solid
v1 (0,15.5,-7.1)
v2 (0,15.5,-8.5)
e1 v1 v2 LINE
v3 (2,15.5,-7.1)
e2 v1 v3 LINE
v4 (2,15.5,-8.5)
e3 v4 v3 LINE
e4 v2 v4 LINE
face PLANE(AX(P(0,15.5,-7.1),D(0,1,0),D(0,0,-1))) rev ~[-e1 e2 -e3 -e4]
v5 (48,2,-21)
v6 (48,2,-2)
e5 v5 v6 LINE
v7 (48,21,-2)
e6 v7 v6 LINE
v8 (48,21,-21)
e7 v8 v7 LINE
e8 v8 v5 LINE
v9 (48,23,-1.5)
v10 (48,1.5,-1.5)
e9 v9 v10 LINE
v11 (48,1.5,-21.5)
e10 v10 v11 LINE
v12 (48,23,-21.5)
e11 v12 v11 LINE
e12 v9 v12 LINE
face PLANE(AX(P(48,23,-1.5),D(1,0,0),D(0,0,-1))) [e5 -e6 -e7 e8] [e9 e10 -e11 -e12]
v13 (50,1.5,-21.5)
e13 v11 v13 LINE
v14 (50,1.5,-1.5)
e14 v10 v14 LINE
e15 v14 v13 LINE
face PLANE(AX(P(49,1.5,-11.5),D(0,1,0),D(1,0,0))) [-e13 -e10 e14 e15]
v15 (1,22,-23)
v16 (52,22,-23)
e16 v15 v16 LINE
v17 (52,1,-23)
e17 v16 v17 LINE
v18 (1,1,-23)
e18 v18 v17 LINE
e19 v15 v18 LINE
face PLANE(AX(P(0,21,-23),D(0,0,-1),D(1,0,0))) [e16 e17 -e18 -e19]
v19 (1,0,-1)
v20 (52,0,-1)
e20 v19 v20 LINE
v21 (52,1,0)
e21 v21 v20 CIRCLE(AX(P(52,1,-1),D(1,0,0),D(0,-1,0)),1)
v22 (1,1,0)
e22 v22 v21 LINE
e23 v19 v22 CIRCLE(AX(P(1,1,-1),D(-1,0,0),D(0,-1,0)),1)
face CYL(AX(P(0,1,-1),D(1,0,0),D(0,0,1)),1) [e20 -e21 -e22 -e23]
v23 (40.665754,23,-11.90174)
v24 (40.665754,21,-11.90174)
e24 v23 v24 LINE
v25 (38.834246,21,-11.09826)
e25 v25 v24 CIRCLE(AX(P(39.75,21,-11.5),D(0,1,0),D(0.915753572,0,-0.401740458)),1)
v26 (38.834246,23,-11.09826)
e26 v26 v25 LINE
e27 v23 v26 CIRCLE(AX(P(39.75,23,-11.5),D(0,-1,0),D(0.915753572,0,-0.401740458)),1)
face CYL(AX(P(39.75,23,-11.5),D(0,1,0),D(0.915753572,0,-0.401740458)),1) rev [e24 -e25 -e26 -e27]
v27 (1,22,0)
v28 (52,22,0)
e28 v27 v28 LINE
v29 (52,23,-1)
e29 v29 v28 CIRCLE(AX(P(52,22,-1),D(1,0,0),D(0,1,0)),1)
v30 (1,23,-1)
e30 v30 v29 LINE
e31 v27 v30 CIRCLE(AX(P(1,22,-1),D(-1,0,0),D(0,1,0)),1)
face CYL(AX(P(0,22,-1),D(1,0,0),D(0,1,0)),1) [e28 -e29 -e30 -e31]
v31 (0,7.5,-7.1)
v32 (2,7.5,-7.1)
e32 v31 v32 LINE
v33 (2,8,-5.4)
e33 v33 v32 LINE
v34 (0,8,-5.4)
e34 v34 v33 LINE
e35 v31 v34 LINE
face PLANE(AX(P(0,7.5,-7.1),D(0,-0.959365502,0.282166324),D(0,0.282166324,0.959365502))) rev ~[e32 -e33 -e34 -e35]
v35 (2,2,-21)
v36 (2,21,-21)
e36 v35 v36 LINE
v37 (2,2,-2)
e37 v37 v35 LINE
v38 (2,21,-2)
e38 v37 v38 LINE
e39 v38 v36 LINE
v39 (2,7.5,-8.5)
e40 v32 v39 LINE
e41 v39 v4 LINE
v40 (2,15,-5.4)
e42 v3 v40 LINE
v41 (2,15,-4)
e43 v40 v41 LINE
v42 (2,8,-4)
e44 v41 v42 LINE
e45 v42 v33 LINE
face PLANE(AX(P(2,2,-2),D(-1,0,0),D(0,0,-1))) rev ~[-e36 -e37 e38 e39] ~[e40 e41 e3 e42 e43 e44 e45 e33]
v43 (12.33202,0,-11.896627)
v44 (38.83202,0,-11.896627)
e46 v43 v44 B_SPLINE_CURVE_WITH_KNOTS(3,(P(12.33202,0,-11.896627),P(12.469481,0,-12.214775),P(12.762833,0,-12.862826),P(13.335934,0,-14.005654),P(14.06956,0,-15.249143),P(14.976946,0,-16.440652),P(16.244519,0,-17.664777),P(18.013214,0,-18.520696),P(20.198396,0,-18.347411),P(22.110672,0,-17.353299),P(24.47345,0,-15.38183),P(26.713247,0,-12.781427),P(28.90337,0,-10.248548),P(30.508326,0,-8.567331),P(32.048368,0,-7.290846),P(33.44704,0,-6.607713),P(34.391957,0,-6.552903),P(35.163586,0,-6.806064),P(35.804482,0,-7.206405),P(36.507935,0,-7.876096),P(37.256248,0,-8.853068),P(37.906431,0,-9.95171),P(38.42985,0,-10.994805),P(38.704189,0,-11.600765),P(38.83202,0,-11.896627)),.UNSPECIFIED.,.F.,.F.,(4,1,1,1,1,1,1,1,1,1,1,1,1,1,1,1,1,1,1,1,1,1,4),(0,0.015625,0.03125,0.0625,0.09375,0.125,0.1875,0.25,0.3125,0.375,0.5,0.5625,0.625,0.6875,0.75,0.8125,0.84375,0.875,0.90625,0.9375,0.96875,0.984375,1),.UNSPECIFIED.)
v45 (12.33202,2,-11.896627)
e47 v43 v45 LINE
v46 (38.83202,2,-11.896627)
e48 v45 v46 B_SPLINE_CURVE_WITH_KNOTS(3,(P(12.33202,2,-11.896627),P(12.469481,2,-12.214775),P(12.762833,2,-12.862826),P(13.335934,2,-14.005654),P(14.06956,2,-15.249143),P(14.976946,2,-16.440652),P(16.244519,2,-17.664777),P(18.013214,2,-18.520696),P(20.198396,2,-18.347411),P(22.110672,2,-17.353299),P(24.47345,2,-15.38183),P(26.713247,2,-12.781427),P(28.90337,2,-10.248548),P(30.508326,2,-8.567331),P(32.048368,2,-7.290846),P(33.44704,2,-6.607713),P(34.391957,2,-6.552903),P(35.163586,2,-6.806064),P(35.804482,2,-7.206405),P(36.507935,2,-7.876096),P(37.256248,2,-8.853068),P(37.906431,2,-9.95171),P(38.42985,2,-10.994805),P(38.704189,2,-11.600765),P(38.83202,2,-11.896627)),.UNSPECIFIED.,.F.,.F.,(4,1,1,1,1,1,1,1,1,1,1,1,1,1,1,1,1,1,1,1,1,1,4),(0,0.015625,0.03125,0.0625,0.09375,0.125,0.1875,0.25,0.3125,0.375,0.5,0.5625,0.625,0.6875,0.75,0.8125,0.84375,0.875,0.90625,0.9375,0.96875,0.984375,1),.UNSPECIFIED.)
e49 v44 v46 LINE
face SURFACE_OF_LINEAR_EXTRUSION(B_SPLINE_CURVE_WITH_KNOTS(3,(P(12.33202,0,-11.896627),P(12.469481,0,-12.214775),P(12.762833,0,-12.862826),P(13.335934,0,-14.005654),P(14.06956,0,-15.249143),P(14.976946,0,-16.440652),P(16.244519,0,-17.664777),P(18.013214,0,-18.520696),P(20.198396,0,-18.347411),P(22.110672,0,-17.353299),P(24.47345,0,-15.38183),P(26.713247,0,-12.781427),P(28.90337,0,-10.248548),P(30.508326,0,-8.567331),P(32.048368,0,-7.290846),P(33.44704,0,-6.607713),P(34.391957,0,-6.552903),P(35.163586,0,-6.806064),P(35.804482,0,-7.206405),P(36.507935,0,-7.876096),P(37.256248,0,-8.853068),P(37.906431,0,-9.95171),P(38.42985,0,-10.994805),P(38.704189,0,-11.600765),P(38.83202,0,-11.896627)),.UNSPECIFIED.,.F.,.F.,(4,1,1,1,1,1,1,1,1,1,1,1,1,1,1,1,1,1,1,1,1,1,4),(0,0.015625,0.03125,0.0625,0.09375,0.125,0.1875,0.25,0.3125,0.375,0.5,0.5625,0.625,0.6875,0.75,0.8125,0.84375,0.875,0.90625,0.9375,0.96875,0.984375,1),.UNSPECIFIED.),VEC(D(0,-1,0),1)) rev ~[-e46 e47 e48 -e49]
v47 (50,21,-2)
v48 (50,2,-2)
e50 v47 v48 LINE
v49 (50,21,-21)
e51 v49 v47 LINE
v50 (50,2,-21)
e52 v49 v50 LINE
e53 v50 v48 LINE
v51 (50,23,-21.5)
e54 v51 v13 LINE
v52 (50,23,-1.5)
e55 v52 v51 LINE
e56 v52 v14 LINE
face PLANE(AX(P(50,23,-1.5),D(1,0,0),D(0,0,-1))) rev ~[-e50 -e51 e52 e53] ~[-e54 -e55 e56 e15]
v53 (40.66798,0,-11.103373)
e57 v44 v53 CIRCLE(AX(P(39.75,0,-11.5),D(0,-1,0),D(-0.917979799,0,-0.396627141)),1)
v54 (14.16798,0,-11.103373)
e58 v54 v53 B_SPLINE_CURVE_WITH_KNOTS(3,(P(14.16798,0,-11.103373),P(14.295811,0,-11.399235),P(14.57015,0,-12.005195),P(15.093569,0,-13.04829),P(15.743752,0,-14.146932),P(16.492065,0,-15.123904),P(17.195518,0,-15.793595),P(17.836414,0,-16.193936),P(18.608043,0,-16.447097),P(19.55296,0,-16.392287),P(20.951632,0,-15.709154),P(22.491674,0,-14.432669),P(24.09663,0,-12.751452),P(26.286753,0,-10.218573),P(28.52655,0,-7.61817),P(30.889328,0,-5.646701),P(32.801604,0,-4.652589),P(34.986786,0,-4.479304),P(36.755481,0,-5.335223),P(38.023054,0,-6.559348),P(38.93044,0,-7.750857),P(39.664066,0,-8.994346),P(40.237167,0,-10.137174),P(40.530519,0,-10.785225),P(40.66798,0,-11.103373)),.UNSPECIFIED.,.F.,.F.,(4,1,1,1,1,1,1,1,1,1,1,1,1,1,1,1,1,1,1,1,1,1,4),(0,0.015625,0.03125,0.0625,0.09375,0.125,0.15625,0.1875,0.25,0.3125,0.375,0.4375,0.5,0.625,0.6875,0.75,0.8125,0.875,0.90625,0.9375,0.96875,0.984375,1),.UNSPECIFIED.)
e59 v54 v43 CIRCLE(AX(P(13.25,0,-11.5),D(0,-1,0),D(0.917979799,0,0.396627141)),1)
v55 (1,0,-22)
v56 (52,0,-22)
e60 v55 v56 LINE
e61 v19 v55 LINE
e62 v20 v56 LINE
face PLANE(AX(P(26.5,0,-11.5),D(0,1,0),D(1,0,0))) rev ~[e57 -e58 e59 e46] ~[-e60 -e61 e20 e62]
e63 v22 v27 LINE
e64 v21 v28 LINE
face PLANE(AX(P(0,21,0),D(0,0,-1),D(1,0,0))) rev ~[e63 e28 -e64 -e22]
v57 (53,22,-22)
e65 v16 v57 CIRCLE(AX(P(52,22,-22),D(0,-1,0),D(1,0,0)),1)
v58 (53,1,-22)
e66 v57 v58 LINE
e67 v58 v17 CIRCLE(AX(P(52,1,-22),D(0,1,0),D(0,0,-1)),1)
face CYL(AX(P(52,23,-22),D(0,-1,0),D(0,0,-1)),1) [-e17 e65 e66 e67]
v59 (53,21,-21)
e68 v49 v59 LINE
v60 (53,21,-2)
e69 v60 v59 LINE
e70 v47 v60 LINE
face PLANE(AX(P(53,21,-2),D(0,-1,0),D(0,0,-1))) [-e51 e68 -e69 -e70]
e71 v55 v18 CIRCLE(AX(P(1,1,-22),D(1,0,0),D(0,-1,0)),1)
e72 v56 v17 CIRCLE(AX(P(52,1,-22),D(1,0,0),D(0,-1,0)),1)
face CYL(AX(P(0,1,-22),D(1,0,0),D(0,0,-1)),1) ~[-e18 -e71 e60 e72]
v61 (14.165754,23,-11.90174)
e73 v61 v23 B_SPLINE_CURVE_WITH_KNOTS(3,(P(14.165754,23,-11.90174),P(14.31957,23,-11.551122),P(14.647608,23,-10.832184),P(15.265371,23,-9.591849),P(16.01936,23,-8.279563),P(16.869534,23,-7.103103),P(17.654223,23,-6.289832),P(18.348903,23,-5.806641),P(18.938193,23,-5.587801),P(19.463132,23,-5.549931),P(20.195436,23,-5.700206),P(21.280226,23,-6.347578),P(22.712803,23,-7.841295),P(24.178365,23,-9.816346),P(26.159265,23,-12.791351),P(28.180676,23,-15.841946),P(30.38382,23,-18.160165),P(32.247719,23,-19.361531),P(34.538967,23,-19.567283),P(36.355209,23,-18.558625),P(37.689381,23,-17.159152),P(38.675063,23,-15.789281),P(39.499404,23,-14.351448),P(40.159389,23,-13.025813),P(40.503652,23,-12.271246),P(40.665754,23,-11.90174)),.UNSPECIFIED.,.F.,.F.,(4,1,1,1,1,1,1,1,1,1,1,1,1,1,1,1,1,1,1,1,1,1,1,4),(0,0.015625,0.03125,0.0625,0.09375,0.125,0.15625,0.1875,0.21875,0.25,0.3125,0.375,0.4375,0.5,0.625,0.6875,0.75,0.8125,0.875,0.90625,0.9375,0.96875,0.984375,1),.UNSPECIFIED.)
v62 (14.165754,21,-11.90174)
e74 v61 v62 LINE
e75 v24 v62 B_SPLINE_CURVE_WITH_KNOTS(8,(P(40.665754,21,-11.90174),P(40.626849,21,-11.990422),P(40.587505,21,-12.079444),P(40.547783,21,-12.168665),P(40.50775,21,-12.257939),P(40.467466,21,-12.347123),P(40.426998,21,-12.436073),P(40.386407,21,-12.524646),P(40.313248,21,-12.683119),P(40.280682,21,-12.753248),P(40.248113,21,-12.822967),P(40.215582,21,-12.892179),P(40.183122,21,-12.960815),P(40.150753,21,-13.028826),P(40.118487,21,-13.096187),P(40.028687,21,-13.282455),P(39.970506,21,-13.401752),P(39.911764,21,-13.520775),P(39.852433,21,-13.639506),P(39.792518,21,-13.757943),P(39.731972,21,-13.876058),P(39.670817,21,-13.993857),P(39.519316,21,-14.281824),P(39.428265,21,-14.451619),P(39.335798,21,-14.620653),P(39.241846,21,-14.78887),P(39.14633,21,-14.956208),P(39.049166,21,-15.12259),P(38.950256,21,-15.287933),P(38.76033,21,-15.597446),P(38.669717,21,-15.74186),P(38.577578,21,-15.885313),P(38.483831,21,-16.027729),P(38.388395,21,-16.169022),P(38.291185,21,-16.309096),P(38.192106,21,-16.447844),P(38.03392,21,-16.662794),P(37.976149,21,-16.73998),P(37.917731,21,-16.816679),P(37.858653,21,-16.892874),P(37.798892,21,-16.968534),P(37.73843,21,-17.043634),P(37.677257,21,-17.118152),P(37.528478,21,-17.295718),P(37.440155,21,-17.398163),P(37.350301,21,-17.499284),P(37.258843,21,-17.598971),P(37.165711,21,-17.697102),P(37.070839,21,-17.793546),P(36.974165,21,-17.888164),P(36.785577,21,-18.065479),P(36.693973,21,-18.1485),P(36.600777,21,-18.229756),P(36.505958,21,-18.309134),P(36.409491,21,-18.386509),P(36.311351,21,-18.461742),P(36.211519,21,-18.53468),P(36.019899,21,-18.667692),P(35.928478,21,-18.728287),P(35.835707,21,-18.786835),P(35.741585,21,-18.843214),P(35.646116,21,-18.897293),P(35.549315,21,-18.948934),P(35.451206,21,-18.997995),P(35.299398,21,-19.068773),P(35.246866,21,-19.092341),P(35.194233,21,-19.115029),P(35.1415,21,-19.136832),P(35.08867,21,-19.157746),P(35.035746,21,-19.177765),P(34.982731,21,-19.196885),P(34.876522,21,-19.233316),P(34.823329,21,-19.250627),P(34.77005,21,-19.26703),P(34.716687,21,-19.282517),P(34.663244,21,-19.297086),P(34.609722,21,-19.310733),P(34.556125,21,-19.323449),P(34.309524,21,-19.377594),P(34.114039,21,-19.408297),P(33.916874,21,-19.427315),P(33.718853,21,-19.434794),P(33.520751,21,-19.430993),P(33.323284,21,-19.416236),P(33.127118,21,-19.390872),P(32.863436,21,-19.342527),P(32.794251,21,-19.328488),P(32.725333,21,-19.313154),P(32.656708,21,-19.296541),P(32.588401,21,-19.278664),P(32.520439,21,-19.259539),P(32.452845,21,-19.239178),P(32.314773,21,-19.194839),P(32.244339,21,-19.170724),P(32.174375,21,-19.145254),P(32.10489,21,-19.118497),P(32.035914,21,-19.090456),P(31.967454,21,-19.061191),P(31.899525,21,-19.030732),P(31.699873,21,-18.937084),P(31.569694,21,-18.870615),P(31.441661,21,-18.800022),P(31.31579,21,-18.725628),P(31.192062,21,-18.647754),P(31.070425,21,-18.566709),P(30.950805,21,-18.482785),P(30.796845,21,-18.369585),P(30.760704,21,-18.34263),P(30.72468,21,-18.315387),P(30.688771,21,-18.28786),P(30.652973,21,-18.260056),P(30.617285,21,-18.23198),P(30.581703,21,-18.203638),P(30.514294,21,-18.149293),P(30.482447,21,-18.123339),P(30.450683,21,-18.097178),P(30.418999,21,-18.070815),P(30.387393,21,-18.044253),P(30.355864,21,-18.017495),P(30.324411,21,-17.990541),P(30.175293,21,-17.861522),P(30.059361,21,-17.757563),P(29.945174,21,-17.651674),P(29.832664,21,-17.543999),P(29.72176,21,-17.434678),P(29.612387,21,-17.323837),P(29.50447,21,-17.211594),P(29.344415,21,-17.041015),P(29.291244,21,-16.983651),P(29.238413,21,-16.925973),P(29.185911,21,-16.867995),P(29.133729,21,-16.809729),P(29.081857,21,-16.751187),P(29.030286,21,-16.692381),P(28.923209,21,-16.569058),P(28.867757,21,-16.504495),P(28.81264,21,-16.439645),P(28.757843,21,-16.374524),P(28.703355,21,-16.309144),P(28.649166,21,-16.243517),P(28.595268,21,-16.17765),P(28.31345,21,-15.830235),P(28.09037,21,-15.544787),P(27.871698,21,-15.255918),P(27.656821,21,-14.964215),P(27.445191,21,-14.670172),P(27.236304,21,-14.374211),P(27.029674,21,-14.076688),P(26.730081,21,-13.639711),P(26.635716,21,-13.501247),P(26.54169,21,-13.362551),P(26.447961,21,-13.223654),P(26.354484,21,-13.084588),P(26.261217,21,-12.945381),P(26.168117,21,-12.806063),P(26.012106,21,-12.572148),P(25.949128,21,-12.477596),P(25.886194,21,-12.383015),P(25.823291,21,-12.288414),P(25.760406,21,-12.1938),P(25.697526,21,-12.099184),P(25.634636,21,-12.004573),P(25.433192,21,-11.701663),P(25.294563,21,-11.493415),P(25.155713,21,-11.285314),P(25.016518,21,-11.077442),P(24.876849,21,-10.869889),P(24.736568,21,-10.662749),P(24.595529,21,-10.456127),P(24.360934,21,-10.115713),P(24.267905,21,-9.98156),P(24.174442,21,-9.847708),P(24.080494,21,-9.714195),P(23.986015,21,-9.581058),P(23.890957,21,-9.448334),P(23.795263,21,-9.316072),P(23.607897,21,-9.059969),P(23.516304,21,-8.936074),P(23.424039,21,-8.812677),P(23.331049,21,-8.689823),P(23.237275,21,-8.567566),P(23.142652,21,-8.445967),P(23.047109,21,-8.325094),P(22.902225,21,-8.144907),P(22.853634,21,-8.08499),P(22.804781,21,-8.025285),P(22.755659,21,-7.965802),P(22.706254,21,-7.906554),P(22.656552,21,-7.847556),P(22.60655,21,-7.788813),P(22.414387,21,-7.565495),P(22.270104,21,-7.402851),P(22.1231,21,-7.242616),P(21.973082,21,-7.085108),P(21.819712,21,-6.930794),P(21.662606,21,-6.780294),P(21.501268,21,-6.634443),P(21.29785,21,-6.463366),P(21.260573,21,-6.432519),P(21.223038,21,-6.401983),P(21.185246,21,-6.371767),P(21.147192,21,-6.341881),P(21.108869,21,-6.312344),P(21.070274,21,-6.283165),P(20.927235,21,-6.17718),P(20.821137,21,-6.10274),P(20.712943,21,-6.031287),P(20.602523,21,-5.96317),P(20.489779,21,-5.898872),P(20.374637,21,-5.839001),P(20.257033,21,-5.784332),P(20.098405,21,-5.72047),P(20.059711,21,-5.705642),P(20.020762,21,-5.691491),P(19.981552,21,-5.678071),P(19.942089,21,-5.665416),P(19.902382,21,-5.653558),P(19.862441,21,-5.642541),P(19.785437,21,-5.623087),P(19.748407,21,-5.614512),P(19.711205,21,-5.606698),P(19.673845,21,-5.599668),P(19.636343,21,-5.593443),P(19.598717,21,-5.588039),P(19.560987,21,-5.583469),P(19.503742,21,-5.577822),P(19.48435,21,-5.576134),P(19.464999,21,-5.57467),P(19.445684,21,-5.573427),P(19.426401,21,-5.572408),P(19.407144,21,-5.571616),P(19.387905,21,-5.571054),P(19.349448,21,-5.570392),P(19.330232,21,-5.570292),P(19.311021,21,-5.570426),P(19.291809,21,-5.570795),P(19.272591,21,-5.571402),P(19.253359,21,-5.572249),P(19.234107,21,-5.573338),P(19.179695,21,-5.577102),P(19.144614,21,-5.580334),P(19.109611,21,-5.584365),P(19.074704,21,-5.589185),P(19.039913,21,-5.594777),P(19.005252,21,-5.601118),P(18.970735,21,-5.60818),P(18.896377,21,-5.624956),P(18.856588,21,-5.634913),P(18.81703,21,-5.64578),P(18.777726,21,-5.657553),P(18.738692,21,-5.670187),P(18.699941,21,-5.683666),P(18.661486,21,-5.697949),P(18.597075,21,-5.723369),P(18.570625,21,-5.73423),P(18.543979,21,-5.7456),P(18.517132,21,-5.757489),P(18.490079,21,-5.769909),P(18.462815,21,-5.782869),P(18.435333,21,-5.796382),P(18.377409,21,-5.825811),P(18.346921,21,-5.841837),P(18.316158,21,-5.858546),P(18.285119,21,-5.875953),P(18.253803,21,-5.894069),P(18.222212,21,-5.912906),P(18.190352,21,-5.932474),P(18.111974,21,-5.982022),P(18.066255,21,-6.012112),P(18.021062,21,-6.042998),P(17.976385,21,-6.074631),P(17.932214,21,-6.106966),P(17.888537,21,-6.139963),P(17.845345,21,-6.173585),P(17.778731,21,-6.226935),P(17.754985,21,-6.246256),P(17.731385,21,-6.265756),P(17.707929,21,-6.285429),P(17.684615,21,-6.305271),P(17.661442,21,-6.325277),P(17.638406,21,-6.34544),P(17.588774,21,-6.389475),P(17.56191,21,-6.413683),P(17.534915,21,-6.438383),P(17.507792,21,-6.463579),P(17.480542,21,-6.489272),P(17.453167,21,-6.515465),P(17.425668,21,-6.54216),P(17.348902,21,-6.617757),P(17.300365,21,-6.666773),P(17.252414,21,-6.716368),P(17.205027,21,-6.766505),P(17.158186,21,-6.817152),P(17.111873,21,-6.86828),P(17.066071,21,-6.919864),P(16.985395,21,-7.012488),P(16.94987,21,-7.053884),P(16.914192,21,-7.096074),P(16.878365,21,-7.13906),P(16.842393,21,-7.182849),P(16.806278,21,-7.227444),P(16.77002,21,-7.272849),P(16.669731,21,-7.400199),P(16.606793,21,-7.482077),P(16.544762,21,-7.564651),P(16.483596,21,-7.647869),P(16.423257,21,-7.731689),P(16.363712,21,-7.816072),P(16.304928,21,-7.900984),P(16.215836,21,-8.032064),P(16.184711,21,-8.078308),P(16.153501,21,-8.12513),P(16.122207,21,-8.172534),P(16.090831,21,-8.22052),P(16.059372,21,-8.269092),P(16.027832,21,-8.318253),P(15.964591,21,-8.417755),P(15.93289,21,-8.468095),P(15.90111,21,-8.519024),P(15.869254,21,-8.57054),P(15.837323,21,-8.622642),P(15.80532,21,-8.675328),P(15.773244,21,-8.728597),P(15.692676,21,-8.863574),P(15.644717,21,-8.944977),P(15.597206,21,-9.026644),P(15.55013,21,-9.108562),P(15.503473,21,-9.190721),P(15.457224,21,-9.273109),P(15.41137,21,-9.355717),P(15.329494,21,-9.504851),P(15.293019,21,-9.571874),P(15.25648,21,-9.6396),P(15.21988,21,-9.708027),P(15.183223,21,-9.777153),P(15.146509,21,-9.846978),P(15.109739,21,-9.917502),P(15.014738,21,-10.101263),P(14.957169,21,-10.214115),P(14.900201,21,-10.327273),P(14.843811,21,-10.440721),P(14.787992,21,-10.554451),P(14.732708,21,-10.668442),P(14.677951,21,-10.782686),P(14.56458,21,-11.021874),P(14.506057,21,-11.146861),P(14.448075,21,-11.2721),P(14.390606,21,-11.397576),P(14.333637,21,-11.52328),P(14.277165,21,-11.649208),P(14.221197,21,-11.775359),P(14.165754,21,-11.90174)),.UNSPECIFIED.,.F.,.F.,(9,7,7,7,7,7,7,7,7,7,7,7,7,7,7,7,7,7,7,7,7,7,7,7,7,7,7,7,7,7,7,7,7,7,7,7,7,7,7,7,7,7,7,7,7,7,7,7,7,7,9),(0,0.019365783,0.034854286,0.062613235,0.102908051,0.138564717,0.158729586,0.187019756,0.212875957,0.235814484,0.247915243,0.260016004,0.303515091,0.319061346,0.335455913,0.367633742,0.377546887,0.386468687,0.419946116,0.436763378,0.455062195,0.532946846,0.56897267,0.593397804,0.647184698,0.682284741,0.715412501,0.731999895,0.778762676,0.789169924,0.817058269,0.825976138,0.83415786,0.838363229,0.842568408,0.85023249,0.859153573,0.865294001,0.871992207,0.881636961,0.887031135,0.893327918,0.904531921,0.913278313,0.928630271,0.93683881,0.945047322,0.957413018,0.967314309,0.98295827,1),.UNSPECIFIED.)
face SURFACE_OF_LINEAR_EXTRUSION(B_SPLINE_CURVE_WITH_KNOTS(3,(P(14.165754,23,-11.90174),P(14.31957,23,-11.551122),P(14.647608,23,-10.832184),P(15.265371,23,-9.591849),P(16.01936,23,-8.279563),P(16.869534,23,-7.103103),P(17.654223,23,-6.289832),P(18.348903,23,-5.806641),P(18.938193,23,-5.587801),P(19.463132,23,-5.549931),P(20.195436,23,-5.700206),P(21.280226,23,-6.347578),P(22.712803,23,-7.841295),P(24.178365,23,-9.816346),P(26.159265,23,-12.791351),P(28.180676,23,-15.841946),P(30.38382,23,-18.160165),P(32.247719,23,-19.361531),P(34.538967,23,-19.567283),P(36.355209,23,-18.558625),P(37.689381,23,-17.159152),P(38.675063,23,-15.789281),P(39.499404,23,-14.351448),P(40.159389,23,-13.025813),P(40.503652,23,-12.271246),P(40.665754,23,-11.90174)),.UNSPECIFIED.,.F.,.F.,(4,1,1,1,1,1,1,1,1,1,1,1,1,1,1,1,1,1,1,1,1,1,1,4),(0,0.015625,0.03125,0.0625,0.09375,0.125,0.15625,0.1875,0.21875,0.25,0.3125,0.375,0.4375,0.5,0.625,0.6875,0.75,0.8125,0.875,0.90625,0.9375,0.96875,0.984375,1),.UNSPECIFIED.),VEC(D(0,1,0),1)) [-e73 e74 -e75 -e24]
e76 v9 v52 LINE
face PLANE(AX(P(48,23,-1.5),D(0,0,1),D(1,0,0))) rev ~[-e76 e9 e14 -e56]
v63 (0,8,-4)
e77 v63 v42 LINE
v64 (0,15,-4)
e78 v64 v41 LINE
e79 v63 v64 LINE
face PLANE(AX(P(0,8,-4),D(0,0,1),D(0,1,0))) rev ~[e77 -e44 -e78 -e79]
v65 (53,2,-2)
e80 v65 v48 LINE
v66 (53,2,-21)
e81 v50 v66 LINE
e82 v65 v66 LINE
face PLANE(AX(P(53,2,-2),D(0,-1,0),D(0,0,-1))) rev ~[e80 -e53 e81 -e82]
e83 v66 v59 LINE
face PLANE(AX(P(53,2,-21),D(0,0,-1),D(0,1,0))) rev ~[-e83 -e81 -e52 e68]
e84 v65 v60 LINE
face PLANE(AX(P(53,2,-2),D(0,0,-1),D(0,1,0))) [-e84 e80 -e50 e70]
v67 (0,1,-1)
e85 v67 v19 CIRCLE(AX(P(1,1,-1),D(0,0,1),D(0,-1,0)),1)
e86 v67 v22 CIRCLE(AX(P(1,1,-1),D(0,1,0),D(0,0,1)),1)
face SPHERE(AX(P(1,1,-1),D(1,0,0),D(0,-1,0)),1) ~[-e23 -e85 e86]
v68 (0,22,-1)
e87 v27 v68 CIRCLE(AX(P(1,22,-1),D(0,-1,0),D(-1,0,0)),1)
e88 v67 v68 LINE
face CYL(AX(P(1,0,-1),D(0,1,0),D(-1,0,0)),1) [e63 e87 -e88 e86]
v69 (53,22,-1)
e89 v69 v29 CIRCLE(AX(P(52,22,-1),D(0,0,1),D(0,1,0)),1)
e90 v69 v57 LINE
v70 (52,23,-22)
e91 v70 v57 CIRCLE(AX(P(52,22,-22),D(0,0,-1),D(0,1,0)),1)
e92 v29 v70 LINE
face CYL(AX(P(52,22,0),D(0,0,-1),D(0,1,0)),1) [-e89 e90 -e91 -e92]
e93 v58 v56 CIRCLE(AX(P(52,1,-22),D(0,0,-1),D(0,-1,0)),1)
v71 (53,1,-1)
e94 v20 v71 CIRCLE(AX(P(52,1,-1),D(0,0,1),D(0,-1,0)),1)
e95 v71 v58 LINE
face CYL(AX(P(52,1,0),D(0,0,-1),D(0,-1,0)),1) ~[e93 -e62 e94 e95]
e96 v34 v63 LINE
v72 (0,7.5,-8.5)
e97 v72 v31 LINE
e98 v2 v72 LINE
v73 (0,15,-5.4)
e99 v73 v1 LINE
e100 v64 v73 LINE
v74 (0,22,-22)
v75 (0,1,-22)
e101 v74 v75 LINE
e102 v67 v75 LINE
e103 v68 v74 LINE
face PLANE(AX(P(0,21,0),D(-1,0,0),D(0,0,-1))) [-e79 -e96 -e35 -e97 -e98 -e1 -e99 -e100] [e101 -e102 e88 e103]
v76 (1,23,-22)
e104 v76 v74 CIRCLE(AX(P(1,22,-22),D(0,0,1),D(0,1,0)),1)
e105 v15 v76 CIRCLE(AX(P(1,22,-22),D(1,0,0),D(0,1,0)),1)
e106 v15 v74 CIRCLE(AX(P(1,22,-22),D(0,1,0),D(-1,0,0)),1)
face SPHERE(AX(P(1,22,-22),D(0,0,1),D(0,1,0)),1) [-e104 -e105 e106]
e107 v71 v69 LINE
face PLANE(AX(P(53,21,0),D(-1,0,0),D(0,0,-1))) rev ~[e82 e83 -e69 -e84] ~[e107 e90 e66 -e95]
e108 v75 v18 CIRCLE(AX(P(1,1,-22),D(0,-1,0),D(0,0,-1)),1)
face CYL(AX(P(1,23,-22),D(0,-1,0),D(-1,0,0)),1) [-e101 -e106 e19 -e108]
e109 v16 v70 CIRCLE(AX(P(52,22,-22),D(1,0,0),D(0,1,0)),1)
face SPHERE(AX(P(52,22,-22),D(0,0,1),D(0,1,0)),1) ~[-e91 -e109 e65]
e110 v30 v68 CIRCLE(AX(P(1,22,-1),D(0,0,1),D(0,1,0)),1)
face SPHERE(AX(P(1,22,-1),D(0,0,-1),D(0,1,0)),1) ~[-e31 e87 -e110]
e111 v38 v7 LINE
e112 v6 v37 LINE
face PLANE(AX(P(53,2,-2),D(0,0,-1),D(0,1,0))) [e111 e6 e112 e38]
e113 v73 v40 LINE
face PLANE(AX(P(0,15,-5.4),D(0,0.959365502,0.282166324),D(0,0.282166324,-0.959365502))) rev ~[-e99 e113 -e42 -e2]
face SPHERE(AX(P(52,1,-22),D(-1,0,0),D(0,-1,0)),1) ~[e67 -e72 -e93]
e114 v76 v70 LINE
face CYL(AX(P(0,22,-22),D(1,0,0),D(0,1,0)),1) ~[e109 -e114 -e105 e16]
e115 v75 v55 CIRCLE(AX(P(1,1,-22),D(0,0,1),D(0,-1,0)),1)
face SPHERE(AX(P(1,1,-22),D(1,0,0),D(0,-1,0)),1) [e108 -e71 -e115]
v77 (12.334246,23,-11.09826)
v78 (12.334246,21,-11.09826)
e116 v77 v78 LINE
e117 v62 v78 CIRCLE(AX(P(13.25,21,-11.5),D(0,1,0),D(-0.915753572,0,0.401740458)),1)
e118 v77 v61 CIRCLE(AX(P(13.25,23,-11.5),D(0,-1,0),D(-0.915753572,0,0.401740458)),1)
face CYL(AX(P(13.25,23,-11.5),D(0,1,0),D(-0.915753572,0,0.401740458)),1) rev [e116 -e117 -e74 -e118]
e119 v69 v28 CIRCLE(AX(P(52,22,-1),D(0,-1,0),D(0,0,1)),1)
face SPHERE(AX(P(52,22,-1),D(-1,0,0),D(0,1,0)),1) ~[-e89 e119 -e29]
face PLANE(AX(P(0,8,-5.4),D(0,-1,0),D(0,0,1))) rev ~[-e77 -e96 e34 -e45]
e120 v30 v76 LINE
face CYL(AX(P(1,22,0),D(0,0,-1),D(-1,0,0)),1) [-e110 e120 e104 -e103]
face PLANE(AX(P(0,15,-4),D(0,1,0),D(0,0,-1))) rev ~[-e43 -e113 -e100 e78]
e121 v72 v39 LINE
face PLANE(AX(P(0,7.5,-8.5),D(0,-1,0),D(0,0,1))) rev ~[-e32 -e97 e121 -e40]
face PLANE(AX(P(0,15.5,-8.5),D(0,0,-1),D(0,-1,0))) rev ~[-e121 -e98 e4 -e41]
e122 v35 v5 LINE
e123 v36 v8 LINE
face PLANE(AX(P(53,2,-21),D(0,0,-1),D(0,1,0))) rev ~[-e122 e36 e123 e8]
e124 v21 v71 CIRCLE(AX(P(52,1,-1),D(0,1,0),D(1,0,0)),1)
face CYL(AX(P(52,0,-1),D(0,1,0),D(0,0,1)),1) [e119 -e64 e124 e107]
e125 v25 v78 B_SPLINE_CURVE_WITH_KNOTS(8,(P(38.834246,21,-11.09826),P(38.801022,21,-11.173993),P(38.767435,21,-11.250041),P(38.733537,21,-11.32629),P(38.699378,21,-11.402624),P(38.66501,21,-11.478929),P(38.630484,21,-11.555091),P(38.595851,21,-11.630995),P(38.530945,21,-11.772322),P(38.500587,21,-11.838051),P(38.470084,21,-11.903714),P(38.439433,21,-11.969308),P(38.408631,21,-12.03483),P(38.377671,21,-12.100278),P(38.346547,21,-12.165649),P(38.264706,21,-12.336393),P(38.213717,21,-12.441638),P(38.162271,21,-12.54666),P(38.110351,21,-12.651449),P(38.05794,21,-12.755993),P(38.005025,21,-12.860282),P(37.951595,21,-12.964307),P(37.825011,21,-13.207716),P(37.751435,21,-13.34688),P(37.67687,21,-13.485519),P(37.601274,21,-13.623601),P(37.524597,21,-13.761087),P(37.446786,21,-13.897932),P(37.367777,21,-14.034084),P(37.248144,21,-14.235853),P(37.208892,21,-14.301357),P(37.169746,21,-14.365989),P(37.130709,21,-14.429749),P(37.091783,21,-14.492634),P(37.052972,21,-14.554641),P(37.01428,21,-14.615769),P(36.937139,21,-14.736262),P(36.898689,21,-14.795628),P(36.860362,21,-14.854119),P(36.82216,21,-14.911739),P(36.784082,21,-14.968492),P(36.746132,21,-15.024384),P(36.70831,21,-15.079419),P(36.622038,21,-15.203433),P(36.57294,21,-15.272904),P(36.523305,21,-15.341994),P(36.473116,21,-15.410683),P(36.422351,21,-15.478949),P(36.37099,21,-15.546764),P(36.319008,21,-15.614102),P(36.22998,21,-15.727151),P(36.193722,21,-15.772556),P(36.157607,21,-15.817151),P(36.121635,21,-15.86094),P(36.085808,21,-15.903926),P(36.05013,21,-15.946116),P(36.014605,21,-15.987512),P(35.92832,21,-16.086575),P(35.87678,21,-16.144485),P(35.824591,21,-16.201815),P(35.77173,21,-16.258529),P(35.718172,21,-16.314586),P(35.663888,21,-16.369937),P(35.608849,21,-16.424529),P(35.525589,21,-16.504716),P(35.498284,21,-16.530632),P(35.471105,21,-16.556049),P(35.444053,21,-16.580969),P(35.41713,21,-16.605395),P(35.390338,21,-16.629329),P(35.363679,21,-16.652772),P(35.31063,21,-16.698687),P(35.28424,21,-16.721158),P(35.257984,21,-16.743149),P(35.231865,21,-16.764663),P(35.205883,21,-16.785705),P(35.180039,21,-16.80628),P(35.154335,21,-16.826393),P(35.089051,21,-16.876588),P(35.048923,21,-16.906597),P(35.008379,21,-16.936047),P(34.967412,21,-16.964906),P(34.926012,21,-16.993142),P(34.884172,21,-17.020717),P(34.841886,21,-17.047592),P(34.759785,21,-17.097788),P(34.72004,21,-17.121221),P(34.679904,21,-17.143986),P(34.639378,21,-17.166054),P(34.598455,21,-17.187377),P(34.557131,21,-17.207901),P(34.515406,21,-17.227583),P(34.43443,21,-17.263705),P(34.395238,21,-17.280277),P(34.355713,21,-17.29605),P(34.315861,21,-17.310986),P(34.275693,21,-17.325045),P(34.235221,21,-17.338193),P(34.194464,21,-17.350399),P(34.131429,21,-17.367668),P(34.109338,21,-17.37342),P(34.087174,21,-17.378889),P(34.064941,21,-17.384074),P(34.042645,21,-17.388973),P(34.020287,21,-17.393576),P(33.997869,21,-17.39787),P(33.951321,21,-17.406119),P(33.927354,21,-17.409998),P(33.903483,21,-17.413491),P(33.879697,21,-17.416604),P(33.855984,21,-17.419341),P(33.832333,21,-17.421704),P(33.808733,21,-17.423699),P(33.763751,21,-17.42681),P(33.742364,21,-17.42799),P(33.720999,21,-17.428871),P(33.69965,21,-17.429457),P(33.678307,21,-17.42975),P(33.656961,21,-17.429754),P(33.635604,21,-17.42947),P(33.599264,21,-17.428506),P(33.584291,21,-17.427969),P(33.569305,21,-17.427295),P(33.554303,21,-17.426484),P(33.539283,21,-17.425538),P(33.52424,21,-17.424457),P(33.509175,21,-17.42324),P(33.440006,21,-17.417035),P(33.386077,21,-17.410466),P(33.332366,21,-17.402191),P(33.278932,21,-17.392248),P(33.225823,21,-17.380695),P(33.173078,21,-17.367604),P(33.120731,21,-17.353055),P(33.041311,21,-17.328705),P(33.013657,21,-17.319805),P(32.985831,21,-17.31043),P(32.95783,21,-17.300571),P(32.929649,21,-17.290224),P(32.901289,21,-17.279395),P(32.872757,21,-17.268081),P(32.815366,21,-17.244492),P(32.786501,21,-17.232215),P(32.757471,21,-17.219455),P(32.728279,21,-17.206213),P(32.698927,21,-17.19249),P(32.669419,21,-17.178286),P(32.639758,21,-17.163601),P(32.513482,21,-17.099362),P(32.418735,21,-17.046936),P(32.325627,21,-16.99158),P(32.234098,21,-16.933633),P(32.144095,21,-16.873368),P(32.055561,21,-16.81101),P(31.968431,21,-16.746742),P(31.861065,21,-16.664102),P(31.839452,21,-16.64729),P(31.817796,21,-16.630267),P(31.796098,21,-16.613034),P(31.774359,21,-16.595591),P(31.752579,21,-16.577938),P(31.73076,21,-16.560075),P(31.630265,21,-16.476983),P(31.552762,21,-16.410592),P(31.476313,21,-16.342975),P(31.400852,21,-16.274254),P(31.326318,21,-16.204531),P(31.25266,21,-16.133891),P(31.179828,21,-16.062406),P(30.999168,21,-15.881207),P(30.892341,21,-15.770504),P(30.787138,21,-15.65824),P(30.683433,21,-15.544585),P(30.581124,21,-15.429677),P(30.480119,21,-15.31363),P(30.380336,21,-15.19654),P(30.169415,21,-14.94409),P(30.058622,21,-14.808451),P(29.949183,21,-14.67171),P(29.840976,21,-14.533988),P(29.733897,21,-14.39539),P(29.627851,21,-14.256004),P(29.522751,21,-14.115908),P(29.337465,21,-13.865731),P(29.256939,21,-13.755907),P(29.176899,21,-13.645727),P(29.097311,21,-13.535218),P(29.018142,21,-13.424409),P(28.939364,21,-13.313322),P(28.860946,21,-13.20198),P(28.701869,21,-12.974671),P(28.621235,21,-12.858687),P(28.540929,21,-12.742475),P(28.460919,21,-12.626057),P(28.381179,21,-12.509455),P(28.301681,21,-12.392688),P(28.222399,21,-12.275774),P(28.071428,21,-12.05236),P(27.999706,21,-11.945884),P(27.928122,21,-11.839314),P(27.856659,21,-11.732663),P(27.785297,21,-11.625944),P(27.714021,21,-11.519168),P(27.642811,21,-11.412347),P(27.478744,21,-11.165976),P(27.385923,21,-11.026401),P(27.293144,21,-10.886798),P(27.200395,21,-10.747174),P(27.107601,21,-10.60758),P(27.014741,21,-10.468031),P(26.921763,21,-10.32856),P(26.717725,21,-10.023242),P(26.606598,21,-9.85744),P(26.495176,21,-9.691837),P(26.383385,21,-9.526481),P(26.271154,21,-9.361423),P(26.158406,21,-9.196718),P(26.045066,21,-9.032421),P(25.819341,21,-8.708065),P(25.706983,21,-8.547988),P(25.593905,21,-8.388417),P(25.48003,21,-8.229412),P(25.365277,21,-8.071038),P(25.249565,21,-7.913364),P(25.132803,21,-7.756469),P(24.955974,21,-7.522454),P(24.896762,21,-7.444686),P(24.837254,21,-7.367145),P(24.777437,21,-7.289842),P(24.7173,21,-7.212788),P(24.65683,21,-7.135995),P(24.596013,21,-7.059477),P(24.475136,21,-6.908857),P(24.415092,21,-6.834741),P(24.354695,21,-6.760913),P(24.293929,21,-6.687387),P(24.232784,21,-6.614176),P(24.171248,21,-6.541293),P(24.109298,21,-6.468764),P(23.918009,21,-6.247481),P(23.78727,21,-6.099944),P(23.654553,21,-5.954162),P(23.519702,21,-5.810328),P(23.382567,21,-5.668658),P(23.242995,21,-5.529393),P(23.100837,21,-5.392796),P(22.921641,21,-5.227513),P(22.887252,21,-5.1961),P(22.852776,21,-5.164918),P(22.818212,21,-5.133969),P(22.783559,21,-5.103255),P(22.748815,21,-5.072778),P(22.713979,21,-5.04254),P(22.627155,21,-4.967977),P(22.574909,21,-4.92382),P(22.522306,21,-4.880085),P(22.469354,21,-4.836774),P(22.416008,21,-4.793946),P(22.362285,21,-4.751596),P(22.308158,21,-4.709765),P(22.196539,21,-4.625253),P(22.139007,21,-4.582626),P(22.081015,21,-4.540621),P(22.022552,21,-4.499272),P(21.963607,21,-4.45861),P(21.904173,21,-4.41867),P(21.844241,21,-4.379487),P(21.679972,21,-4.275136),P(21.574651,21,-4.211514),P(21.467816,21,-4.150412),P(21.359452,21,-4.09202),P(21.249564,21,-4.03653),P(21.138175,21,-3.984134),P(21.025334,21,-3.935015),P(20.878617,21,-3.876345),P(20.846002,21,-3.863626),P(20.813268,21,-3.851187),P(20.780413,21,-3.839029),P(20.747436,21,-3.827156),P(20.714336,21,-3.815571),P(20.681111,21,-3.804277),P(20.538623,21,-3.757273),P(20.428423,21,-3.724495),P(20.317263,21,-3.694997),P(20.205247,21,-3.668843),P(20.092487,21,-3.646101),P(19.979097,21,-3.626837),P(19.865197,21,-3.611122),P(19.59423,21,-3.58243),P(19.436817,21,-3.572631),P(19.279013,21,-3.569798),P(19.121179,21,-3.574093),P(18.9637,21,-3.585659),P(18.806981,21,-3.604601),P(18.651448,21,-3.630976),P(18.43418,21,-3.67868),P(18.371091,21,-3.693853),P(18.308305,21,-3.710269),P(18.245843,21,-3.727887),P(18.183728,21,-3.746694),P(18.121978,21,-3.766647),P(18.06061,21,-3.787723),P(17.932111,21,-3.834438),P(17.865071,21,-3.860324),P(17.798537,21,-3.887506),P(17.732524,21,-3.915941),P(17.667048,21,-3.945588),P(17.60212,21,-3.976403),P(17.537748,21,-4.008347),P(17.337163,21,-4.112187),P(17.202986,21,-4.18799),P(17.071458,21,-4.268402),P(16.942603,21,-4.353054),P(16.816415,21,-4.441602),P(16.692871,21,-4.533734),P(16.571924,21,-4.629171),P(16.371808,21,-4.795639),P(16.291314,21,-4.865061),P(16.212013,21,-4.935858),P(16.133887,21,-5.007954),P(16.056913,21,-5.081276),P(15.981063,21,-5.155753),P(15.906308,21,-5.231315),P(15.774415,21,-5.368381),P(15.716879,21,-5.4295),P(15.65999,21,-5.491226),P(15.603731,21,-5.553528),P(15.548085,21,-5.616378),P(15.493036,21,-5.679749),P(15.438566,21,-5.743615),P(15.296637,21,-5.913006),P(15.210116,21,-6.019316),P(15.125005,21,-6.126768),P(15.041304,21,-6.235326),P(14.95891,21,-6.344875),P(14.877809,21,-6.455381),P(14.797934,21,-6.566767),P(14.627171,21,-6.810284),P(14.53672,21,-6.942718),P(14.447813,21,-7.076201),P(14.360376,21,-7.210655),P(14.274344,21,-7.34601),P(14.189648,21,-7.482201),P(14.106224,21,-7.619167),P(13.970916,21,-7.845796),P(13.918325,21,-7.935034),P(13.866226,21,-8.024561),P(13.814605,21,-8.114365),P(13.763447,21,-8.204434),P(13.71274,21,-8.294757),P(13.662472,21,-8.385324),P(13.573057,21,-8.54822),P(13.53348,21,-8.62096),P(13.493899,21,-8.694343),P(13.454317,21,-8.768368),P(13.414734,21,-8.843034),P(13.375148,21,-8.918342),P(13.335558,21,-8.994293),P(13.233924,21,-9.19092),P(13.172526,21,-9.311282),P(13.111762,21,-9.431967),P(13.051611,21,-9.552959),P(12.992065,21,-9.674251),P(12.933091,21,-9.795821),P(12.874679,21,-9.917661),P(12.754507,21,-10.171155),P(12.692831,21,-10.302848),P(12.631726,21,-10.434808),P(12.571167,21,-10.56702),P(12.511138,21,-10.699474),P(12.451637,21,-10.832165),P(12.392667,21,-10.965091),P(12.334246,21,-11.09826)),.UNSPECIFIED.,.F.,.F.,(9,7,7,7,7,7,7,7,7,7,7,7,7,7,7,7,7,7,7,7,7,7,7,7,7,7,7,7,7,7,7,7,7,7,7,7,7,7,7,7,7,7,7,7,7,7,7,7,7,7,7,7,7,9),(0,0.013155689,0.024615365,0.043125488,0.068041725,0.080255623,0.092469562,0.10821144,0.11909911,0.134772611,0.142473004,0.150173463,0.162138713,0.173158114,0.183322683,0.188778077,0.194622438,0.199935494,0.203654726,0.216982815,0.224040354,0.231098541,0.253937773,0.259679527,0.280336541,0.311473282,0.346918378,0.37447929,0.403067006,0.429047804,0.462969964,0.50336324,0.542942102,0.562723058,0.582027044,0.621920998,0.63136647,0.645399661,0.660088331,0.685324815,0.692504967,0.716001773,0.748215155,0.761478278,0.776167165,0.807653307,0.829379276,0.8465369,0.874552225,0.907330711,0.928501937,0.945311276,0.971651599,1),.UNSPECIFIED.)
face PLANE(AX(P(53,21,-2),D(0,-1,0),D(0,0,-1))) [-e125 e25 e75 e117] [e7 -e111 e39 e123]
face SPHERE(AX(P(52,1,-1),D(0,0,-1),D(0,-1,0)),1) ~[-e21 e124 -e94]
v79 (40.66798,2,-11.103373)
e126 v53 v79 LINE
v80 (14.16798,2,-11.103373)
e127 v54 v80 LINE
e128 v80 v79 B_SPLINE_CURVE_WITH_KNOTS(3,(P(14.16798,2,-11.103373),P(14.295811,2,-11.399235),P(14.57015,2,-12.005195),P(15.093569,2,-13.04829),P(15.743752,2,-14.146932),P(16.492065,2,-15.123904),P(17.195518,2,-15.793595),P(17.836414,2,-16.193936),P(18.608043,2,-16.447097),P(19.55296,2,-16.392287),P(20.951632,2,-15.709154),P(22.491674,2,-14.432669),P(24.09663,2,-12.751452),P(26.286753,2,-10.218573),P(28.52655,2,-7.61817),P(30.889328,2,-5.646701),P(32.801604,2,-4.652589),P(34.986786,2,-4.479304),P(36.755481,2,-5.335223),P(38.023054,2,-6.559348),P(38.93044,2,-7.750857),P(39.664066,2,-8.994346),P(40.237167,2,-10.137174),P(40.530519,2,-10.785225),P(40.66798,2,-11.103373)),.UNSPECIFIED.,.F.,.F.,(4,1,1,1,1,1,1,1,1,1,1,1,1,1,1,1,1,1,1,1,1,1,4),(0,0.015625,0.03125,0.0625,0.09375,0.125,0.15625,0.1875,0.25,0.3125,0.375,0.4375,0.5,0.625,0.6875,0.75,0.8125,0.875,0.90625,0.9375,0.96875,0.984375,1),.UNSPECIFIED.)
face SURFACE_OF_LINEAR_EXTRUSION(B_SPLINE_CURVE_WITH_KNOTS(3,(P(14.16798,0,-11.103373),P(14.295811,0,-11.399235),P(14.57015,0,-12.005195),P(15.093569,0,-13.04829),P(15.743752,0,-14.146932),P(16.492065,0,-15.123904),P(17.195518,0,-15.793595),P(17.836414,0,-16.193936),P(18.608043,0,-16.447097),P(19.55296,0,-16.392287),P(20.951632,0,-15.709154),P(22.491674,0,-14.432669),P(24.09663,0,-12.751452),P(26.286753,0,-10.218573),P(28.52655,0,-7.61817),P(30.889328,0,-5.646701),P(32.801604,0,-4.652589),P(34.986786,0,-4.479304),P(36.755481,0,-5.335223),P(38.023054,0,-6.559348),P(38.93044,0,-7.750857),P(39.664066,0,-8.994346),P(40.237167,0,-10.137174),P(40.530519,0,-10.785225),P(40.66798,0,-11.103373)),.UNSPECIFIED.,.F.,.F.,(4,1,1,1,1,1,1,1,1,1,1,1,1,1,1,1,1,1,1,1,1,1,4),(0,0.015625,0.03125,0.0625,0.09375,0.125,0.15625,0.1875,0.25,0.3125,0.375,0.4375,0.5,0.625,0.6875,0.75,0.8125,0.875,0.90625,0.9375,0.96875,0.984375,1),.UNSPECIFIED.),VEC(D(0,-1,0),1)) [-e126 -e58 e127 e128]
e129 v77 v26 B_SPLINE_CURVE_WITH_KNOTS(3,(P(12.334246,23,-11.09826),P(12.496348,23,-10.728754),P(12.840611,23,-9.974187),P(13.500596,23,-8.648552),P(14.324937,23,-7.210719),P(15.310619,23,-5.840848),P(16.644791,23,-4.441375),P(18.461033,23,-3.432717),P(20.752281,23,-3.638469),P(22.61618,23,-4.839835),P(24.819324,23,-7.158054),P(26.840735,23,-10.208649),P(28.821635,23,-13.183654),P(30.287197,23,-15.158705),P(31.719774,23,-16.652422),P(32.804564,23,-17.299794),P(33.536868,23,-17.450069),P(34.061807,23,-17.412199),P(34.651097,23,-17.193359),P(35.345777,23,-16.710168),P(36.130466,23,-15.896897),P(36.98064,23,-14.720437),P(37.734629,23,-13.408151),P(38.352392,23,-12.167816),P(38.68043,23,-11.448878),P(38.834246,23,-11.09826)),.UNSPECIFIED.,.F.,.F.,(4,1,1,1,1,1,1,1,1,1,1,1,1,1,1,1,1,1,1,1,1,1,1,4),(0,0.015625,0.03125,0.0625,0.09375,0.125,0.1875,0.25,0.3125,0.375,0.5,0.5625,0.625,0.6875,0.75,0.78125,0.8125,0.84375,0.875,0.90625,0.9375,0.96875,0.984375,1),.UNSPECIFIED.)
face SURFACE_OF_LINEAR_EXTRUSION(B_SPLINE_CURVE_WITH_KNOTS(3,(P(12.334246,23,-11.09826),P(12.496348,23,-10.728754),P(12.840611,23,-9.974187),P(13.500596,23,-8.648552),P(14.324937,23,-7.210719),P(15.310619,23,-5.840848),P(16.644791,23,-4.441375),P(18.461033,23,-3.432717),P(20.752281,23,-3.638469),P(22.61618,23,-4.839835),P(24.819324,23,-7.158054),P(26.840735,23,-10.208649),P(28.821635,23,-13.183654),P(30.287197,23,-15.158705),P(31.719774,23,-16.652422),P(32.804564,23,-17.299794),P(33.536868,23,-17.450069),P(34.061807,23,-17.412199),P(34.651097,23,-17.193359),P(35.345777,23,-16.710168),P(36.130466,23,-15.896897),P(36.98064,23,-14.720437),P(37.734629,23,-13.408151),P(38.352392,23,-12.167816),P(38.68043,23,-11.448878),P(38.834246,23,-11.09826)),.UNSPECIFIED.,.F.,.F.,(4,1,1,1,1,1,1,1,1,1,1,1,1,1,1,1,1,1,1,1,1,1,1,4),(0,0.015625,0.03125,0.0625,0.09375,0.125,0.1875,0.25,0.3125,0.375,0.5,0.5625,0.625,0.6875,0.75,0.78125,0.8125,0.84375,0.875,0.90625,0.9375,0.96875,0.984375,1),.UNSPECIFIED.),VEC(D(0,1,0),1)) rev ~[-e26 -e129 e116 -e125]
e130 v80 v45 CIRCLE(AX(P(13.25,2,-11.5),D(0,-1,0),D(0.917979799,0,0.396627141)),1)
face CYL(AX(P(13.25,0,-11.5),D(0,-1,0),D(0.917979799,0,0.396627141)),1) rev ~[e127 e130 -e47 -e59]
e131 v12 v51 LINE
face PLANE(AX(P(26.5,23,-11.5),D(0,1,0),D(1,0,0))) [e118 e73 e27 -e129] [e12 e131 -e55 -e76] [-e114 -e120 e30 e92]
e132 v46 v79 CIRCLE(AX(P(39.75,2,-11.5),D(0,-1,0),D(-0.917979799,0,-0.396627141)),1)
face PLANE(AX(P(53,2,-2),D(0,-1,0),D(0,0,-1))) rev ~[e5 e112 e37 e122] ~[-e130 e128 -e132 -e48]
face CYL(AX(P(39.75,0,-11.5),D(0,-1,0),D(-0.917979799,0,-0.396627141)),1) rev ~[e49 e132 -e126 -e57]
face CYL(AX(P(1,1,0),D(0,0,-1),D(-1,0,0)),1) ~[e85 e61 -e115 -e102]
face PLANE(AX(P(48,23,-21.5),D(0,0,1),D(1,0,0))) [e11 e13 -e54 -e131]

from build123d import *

# Parameters (mm, degrees)
SKETCH1_W           = 53
SKETCH1_H           = 23
BOSS_EXTRUDE1_DEPTH = 2
SKETCH3_W           = 53
SKETCH3_H           = 23
SKETCH3_W_2         = 49
SKETCH3_H_2         = 19
BOSS_EXTRUDE2_DEPTH = 19
SKETCH5_W           = 53
SKETCH5_H           = 23
BOSS_EXTRUDE3_DEPTH = 2
CUT_EXTRUDE1_REACH  = 25
CUT_EXTRUDE2_REACH  = 55
CUT_EXTRUDE3_REACH  = 55
SKETCH9_W           = 19
SKETCH9_H           = 19
SKETCH10_W          = 2
SKETCH10_H          = 20
CUT_EXTRUDE4_DEPTH  = 21.5
FILLET1_R           = 1


with BuildPart() as part:
    # Sketch1 → Boss-Extrude1 (new body)
    with BuildSketch(Plane(origin=(0, 0, 0), x_dir=(1, 0, 0), z_dir=(0, 1, 0))):
        with Locations((26.5, 11.5)):
            Rectangle(SKETCH1_W, SKETCH1_H)
        with BuildLine():
            ThreePointArc((14.167979799, 11.103372859), (12.853372859, 10.582020201), (12.332020201, 11.896627141))
            add(Edge.make_bspline(
                [(12.332020201, 11.896627141), (12.469480865, 12.214775093), (12.762832878, 12.862826424), (13.335933972, 14.00565416), (14.069559606, 15.249143301), (14.976946321, 16.440651864), (16.244519266, 17.664776994), (18.013213928, 18.520696074), (20.198395592, 18.347411342), (22.11067197, 17.353298864), (24.473450461, 15.381830316), (26.713246554, 12.781426707), (28.903370071, 10.24854759), (30.508326384, 8.567330823), (32.048368225, 7.290846303), (33.447040029, 6.607713215), (34.391956609, 6.552903154), (35.163585916, 6.806063587), (35.804481551, 7.206405018), (36.50793545, 7.876095679), (37.256247569, 8.85306811), (37.906431149, 9.951709918), (38.429850366, 10.994805159), (38.704188556, 11.600765219), (38.832020201, 11.896627141)],
                knots=[0, 0, 0, 0, 0.015625, 0.03125, 0.0625, 0.09375, 0.125, 0.1875, 0.25, 0.3125, 0.375, 0.5, 0.5625, 0.625, 0.6875, 0.75, 0.8125, 0.84375, 0.875, 0.90625, 0.9375, 0.96875, 0.984375, 1, 1, 1, 1], degree=3))
            ThreePointArc((38.832020201, 11.896627141), (40.146627141, 12.417979799), (40.667979799, 11.103372859))
            add(Edge.make_bspline(
                [(14.167979799, 11.103372859), (14.295811444, 11.399234781), (14.570149634, 12.005194841), (15.093568851, 13.048290082), (15.743752431, 14.14693189), (16.49206455, 15.123904321), (17.195518449, 15.793594982), (17.836414084, 16.193936413), (18.608043391, 16.447096846), (19.552959971, 16.392286785), (20.951631775, 15.709153697), (22.491673616, 14.432669177), (24.096629929, 12.75145241), (26.286753446, 10.218573293), (28.526549539, 7.618169684), (30.88932803, 5.646701136), (32.801604408, 4.652588658), (34.986786072, 4.479303926), (36.755480734, 5.335223006), (38.023053679, 6.559348136), (38.930440394, 7.750856699), (39.664066028, 8.99434584), (40.237167122, 10.137173576), (40.530519135, 10.785224907), (40.667979799, 11.103372859)],
                knots=[0, 0, 0, 0, 0.015625, 0.03125, 0.0625, 0.09375, 0.125, 0.15625, 0.1875, 0.25, 0.3125, 0.375, 0.4375, 0.5, 0.625, 0.6875, 0.75, 0.8125, 0.875, 0.90625, 0.9375, 0.96875, 0.984375, 1, 1, 1, 1], degree=3))
        make_face(mode=Mode.SUBTRACT)
    extrude(amount=BOSS_EXTRUDE1_DEPTH)

    # Sketch3 → Boss-Extrude2 (add)
    with BuildSketch(Plane(origin=(0, 2, 0), x_dir=(1, 0, 0), z_dir=(0, 1, 0))):
        with Locations((26.5, 11.5)):
            Rectangle(SKETCH3_W, SKETCH3_H)
        with Locations((26.5, 11.5)):
            Rectangle(SKETCH3_W_2, SKETCH3_H_2, mode=Mode.SUBTRACT)
    extrude(amount=BOSS_EXTRUDE2_DEPTH)

    # Sketch5 → Boss-Extrude3 (add)
    with BuildSketch(Plane(origin=(0, 21, 0), x_dir=(1, 0, 0), z_dir=(0, 1, 0))):
        with Locations((26.5, 11.5)):
            Rectangle(SKETCH5_W, SKETCH5_H)
    extrude(amount=BOSS_EXTRUDE3_DEPTH)

    # Sketch7 → Cut-Extrude1 (cut, up to next)
    with BuildSketch(Plane(origin=(0, 23, 0), x_dir=(1, 0, 0), z_dir=(0, 1, 0)), mode=Mode.PRIVATE) as cut_extrude1_sk1:
        with BuildLine():
            ThreePointArc((12.334246428, 11.098259542), (12.848259542, 12.415753572), (14.165753572, 11.901740458))
            add(Edge.make_bspline(
                [(14.165753572, 11.901740458), (14.319569541, 11.551122241), (14.647608492, 10.832183671), (15.265371347, 9.591848537), (16.019360121, 8.279562849), (16.869534053, 7.103102818), (17.654222781, 6.289831839), (18.34890312, 5.806641268), (18.938193167, 5.587801008), (19.463132193, 5.549931301), (20.195435511, 5.70020599), (21.280226269, 6.347578401), (22.712802701, 7.841295003), (24.17836504, 9.816346352), (26.159265484, 12.791351284), (28.18067633, 15.841945555), (30.383820425, 18.160165201), (32.247719208, 19.361531089), (34.538967294, 19.56728313), (36.355209033, 18.558624621), (37.689381474, 17.159152284), (38.675063468, 15.789280734), (39.49940357, 14.351448085), (40.159389491, 13.025812725), (40.503651701, 12.271246104), (40.665753572, 11.901740458)],
                knots=[0, 0, 0, 0, 0.015625, 0.03125, 0.0625, 0.09375, 0.125, 0.15625, 0.1875, 0.21875, 0.25, 0.3125, 0.375, 0.4375, 0.5, 0.625, 0.6875, 0.75, 0.8125, 0.875, 0.90625, 0.9375, 0.96875, 0.984375, 1, 1, 1, 1], degree=3))
            ThreePointArc((40.665753572, 11.901740458), (40.151740458, 10.584246428), (38.834246428, 11.098259542))
            add(Edge.make_bspline(
                [(12.334246428, 11.098259542), (12.496348299, 10.728753896), (12.840610509, 9.974187275), (13.50059643, 8.648551915), (14.324936532, 7.210719266), (15.310618526, 5.840847716), (16.644790967, 4.441375379), (18.461032706, 3.43271687), (20.752280792, 3.638468911), (22.616179575, 4.839834799), (24.81932367, 7.158054445), (26.840734516, 10.208648716), (28.82163496, 13.183653648), (30.287197299, 15.158704997), (31.719773731, 16.652421599), (32.804564489, 17.29979401), (33.536867807, 17.450068699), (34.061806833, 17.412198992), (34.65109688, 17.193358732), (35.345777219, 16.710168161), (36.130465947, 15.896897182), (36.980639879, 14.720437151), (37.734628653, 13.408151463), (38.352391508, 12.167816329), (38.680430459, 11.448877759), (38.834246428, 11.098259542)],
                knots=[0, 0, 0, 0, 0.015625, 0.03125, 0.0625, 0.09375, 0.125, 0.1875, 0.25, 0.3125, 0.375, 0.5, 0.5625, 0.625, 0.6875, 0.75, 0.78125, 0.8125, 0.84375, 0.875, 0.90625, 0.9375, 0.96875, 0.984375, 1, 1, 1, 1], degree=3))
        make_face()
    cut_extrude1_tool1 = extrude(cut_extrude1_sk1.sketch, amount=-CUT_EXTRUDE1_REACH, mode=Mode.PRIVATE) & part.part
    add(cut_extrude1_tool1.solids().sort_by_distance((26.5, 23, -11.500446))[0], mode=Mode.SUBTRACT)

    # Sketch8 → Cut-Extrude2 (cut, up to next)
    with BuildSketch(Plane.ZY, mode=Mode.PRIVATE) as cut_extrude2_sk1:
        Polygon((-4, 8), (-4, 15), (-5.4, 15), (-7.1, 15.5), (-8.5, 15.5), (-8.5, 7.5), (-7.1, 7.5), (-5.4, 8), align=None)
    cut_extrude2_tool1 = extrude(cut_extrude2_sk1.sketch, amount=-CUT_EXTRUDE2_REACH, mode=Mode.PRIVATE) & part.part
    add(cut_extrude2_tool1.solids().sort_by_distance((0, 11.5, -6.321432))[0], mode=Mode.SUBTRACT)

    # Sketch9 → Cut-Extrude3 (cut, up to next)
    with BuildSketch(Plane(origin=(53, 0, 0), x_dir=(0, 0, -1), z_dir=(1, 0, 0)), mode=Mode.PRIVATE) as cut_extrude3_sk1:
        with Locations((11.5, 11.5)):
            Rectangle(SKETCH9_W, SKETCH9_H)
    cut_extrude3_tool1 = extrude(cut_extrude3_sk1.sketch, amount=-CUT_EXTRUDE3_REACH, mode=Mode.PRIVATE) & part.part
    add(cut_extrude3_tool1.solids().sort_by_distance((53, 11.5, -11.5))[0], mode=Mode.SUBTRACT)

    # Sketch10 → Cut-Extrude4 (cut)
    with BuildSketch(Plane(origin=(0, 23, 0), x_dir=(1, 0, 0), z_dir=(0, 1, 0))):
        with Locations((49, 11.5)):
            Rectangle(SKETCH10_W, SKETCH10_H)
    extrude(amount=-CUT_EXTRUDE4_DEPTH, mode=Mode.SUBTRACT)

    # Fillet1
    fillet1_edges = [part.edges().sort_by_distance(p)[0] for p in [
        (26.5, 0, -23),
        (53, 0, -11.5),
        (26.5, 0, 0),
        (0, 23, -11.5),
        (26.5, 23, 0),
        (53, 23, -11.5),
        (26.5, 23, -23),
        (0, 0, -11.5),
        (0, 11.5, -23),
        (53, 11.5, -23),
        (53, 11.5, 0),
        (0, 11.5, 0),
    ]]
    fillet(fillet1_edges, radius=FILLET1_R)


solid = part.part
